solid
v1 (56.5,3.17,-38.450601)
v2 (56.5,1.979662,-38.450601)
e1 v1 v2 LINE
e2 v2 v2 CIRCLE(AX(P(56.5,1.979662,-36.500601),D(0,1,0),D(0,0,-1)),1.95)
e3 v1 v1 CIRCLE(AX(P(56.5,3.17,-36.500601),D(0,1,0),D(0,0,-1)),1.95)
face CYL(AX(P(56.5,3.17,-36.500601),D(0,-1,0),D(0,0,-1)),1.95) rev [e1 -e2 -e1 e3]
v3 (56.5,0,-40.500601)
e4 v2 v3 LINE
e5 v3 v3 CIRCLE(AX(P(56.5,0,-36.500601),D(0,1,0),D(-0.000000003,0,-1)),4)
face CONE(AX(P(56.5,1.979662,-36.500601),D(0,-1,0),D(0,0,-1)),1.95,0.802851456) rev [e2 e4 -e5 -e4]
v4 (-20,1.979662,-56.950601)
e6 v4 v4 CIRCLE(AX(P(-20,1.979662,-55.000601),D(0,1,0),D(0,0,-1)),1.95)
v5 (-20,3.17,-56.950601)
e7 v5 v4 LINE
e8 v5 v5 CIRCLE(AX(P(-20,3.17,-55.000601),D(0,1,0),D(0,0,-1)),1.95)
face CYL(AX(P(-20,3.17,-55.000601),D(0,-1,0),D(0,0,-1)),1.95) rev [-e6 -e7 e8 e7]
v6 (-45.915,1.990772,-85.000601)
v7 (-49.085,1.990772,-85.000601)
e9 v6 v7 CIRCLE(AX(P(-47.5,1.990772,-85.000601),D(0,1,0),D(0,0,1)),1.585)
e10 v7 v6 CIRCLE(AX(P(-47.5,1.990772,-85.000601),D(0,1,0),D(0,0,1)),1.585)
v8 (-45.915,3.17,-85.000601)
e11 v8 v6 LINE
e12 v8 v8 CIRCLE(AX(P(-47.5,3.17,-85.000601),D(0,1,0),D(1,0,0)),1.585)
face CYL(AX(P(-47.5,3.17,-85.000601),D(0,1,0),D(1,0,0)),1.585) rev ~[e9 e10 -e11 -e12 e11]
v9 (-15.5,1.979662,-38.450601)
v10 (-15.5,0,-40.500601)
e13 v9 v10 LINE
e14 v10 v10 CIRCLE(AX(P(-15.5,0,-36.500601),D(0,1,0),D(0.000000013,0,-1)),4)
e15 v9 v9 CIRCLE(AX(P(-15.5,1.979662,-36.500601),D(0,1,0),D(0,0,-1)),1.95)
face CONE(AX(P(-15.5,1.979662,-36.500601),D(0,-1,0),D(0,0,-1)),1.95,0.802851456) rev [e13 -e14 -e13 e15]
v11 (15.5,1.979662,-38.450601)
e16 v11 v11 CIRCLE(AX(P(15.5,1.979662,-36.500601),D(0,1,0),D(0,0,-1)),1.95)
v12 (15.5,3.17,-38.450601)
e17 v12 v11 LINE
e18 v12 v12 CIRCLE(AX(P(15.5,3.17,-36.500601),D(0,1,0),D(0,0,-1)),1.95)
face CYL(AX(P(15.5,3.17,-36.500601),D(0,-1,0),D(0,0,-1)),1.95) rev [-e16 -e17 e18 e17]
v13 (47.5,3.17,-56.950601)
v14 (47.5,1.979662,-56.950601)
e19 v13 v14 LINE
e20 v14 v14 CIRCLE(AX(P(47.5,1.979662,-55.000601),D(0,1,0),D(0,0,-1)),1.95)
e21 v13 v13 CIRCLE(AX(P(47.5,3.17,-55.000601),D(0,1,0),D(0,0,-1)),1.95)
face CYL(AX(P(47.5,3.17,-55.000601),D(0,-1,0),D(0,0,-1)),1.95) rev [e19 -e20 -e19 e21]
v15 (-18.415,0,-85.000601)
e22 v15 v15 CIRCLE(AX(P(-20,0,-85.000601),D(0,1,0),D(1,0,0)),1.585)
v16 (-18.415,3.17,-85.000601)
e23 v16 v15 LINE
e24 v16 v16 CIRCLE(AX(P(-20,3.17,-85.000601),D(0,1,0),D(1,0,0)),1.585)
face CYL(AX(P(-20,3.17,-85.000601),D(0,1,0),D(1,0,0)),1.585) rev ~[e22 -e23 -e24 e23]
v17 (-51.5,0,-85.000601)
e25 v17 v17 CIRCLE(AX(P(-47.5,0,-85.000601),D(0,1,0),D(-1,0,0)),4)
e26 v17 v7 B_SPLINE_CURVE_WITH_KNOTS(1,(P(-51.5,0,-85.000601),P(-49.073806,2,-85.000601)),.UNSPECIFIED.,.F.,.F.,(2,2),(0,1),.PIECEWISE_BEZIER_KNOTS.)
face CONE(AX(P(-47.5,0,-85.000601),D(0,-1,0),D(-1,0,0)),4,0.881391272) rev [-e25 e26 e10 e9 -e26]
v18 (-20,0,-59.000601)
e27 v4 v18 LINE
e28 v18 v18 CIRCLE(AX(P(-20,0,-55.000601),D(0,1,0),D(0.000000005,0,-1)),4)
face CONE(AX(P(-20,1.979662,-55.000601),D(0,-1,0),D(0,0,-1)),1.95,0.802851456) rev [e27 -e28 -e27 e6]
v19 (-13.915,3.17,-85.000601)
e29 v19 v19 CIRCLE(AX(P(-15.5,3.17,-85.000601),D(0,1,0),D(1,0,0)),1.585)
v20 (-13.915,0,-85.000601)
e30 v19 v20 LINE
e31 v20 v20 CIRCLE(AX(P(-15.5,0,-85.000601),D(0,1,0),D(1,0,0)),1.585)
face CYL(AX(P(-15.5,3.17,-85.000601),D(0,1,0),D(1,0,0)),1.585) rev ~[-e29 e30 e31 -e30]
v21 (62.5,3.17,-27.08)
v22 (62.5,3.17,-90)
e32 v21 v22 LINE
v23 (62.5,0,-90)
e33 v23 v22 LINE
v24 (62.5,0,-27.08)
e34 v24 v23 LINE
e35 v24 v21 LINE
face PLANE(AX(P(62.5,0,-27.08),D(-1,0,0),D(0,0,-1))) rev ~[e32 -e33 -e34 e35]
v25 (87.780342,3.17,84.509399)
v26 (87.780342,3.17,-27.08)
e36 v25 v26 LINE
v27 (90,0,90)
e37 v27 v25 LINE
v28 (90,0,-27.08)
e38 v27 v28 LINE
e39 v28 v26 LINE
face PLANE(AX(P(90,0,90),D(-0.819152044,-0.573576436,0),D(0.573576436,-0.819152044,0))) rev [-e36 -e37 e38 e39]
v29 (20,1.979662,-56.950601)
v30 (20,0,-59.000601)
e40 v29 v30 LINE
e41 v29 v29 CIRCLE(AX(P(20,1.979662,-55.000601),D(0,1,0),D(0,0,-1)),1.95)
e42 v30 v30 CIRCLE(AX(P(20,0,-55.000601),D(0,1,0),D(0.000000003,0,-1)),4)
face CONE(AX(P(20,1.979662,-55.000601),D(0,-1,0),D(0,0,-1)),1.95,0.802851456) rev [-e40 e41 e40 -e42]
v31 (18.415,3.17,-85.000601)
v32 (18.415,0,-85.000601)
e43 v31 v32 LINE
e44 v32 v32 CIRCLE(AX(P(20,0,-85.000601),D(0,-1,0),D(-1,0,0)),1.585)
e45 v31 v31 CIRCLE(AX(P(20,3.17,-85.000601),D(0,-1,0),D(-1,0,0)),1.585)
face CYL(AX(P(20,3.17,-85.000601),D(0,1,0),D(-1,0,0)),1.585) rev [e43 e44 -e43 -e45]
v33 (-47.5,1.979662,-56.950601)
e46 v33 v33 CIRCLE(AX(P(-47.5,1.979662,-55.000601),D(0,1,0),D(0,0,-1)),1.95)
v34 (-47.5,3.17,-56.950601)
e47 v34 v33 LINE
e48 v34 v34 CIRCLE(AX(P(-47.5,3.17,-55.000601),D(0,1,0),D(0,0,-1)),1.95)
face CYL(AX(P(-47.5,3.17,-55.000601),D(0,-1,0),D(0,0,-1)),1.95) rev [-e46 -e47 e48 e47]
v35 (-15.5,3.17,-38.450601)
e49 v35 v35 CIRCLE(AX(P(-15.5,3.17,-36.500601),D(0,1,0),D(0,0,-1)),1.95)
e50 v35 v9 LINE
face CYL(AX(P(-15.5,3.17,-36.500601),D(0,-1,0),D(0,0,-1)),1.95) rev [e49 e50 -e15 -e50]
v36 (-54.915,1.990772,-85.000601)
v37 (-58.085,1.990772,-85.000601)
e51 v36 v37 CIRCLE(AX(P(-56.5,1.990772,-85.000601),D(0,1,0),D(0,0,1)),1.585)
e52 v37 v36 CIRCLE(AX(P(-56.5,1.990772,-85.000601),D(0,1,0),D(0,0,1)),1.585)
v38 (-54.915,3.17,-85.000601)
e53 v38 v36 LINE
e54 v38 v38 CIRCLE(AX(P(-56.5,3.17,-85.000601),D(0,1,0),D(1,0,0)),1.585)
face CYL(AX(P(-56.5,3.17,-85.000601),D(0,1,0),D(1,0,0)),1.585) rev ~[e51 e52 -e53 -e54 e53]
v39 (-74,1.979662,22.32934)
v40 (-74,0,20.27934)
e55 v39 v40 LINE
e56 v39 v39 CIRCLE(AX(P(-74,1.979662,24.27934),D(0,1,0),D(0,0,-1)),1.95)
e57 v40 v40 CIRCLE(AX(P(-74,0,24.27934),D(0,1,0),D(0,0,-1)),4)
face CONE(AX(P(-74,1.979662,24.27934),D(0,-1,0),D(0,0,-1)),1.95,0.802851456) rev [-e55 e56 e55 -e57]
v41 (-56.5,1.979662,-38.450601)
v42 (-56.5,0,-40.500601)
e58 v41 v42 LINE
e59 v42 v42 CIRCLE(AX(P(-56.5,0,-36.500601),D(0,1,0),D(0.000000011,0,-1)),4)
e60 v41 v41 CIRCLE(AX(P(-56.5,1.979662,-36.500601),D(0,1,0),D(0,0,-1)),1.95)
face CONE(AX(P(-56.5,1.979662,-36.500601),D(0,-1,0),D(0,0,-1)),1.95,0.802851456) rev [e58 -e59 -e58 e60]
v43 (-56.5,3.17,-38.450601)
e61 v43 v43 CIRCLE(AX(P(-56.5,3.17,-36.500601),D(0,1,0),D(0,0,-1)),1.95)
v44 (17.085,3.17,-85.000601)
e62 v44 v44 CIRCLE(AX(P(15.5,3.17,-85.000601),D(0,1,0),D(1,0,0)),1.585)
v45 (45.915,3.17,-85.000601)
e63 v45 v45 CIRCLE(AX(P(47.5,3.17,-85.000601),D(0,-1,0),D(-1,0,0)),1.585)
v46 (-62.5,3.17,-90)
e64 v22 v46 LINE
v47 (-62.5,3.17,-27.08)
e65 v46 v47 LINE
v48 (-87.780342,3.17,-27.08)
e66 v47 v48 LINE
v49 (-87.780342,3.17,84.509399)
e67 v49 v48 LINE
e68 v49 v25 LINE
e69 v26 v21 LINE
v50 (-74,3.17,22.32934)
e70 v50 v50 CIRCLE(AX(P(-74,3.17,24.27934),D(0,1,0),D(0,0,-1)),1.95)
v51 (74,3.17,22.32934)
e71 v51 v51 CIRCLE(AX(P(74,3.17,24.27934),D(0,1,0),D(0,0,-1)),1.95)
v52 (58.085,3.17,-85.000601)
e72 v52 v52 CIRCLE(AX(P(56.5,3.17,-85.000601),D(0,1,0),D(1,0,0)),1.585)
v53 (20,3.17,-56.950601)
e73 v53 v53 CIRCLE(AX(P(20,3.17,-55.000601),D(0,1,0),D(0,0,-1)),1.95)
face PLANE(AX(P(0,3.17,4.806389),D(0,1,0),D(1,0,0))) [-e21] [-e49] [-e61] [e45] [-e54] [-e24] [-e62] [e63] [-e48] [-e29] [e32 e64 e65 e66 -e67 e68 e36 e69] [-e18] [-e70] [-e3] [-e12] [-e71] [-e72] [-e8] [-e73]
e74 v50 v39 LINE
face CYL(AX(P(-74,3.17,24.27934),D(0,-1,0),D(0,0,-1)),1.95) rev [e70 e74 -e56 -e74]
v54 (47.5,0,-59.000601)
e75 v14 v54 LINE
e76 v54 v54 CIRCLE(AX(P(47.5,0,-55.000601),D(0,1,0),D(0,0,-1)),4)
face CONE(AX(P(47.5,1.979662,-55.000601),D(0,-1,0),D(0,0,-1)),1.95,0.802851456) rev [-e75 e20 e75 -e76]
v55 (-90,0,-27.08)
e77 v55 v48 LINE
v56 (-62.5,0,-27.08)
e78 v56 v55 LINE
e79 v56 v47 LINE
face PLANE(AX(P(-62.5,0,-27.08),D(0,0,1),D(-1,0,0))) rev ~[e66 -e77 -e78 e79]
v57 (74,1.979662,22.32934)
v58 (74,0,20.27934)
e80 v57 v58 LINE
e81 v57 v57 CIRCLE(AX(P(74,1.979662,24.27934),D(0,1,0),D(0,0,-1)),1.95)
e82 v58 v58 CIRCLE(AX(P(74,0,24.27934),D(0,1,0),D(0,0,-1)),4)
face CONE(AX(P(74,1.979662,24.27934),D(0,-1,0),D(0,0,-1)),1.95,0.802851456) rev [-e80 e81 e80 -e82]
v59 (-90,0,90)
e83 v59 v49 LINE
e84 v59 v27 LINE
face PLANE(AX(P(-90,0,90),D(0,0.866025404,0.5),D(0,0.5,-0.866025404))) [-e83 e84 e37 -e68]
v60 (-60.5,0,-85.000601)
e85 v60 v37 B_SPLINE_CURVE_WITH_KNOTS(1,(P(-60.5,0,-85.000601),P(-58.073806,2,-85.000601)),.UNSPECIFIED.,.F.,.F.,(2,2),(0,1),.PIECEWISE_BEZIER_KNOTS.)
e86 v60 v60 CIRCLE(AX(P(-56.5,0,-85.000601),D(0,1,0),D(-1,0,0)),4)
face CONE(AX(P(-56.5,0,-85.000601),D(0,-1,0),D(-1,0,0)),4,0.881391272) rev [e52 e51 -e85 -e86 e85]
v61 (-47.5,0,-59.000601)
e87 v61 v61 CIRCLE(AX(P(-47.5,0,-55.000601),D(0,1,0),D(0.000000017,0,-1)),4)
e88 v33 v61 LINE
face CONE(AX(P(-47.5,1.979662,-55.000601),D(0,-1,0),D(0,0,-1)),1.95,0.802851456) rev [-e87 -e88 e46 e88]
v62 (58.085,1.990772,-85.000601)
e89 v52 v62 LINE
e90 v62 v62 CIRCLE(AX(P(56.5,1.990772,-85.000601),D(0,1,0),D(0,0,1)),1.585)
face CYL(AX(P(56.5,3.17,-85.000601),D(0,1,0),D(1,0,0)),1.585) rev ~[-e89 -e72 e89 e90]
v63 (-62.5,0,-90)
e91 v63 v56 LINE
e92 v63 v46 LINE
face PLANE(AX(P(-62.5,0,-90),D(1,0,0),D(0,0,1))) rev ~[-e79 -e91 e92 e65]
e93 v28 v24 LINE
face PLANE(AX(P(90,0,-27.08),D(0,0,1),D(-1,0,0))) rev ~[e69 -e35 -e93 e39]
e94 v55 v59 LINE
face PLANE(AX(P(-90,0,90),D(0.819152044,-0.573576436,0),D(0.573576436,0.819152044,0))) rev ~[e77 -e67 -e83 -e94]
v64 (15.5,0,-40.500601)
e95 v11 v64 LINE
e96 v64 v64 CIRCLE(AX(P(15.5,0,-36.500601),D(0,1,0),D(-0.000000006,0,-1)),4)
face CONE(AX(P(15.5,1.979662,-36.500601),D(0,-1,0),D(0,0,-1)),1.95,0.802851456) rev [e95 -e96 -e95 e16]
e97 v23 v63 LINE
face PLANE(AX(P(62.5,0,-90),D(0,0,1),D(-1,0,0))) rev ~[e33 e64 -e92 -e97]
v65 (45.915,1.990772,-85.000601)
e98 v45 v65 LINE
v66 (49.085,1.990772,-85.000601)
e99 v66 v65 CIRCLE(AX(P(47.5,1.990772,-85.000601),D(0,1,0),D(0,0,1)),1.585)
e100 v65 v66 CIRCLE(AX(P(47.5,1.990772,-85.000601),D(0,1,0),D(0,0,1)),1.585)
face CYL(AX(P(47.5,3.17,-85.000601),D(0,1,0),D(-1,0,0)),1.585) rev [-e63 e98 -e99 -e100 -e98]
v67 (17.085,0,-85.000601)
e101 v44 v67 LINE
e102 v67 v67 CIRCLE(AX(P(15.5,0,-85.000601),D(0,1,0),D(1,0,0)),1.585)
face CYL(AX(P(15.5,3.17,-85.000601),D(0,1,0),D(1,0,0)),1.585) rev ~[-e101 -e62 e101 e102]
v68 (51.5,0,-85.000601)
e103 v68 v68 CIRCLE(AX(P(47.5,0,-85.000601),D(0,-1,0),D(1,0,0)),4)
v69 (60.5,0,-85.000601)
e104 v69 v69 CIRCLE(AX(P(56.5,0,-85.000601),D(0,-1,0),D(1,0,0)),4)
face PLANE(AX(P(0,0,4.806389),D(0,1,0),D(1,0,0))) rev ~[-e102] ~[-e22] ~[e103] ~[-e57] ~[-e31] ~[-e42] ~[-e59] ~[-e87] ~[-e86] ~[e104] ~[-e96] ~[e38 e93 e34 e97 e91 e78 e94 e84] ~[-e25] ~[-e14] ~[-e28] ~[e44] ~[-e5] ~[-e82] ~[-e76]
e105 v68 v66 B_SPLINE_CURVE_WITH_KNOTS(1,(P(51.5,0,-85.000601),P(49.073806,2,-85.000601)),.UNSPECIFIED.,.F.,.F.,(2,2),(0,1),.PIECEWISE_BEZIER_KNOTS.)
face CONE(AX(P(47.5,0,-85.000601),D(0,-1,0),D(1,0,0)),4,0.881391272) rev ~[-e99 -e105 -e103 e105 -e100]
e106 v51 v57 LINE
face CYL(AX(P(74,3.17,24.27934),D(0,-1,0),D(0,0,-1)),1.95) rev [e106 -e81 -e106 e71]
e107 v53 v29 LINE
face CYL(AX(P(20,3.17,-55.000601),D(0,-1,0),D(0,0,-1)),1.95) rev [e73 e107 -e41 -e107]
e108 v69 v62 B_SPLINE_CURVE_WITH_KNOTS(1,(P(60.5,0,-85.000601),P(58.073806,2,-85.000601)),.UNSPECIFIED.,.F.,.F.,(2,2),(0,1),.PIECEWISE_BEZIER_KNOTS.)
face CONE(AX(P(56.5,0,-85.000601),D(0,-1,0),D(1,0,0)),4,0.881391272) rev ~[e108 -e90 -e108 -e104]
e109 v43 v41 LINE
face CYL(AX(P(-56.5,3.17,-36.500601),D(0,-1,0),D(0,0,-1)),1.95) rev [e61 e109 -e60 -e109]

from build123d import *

# Parameters (mm, degrees)
SALIENTE_EXTRUIR1_DEPTH                      = 3.17
CORTAR_EXTRUIR1_REACH                        = 182
CORTAR_EXTRUIR7_START                        = -117.08
CORTAR_EXTRUIR7_DEPTH                        = 117.08
CROQUIS3_R                                   = 1.585
CORTAR_EXTRUIR2_DEPTH                        = 3.17
CORTAR_EXTRUIR3_REACH                        = 5.17
CROQUIS4_R                                   = 1.585
CORTAR_EXTRUIR4_REACH                        = 5.17
CROQUIS6_R                                   = 1.585
CROQUIS7_R                                   = 1.585
CORTAR_EXTRUIR5_DEPTH                        = 3.17
CROQUIS15_R                                  = 4
CORTAR_EXTRUIR6_DEPTH                        = 2
CORTAR_EXTRUIR6_TAPER                        = 50.5
AVELLANADO_PARA_TORNILLO_CON_CABEZA_2_COUNT  = 2
AVELLANADO_PARA_TORNILLO_CON_CABEZA_2_PITCH  = 63.24912037
AVELLANADO_PARA_TORNILLO_CON_CABEZA_3_COUNT  = 2
AVELLANADO_PARA_TORNILLO_CON_CABEZA_3_PITCH  = 83.591620659
AVELLANADO_PARA_TORNILLO_CON_CABEZA_4_COUNT  = 2
AVELLANADO_PARA_TORNILLO_CON_CABEZA_4_PITCH  = 95.923454089
AVELLANADO_PARA_TORNILLO_CON_CABEZA_5_COUNT  = 2
AVELLANADO_PARA_TORNILLO_CON_CABEZA_5_PITCH  = 84.359061325
AVELLANADO_PARA_TORNILLO_CON_CABEZA_6_COUNT  = 2
AVELLANADO_PARA_TORNILLO_CON_CABEZA_6_PITCH  = 108.187112114
AVELLANADO_PARA_TORNILLO_CON_CABEZA_7_COUNT  = 2
AVELLANADO_PARA_TORNILLO_CON_CABEZA_7_PITCH  = 122.968731979
AVELLANADO_PARA_TORNILLO_CON_CABEZA_8_COUNT  = 2
AVELLANADO_PARA_TORNILLO_CON_CABEZA_8_PITCH  = 145.077768953
AVELLANADO_PARA_TORNILLO_CON_CABEZA_9_COUNT  = 2
AVELLANADO_PARA_TORNILLO_CON_CABEZA_9_PITCH  = 143.959894511
AVELLANADO_PARA_TORNILLO_CON_CABEZA_10_COUNT = 2
AVELLANADO_PARA_TORNILLO_CON_CABEZA_10_PITCH = 148


with BuildPart() as part:
    # Croquis1 → Saliente-Extruir1 (new body)
    with BuildSketch(Plane(origin=(0, 0, 0), x_dir=(1, 0, 0), z_dir=(0, 1, 0))):
        Polygon((-62.5, 90), (-62.5, 27.08), (-90, 27.08), (-90, -90), (90, -90), (90, 27.08), (62.5, 27.08), (62.5, 90), align=None)
    extrude(amount=SALIENTE_EXTRUIR1_DEPTH)

    # Croquis2 → Cortar-Extruir1 (cut, up to next)
    with BuildSketch(Plane.ZY.offset(90), mode=Mode.PRIVATE) as cortar_extruir1_sk1:
        Polygon((90, 0), (84.50939894, 3.17), (90, 3.17), align=None)
    cortar_extruir1_tool1 = extrude(cortar_extruir1_sk1.sketch, amount=-CORTAR_EXTRUIR1_REACH, mode=Mode.PRIVATE) & part.part
    add(cortar_extruir1_tool1.solids().sort_by_distance((-90, 2.113333, 88.1698))[0], mode=Mode.SUBTRACT)

    # Croquis16 → Cortar-Extruir7 (cut)
    with BuildSketch(Plane(origin=(0, 0, -27.08), x_dir=(-1, 0, 0), z_dir=(0, 0, -1)).offset(CORTAR_EXTRUIR7_START)):
        Polygon((90, 3.17), (90, 0), (87.780342104, 3.17), align=None)
    cortar_extruir7 = extrude(amount=CORTAR_EXTRUIR7_DEPTH, mode=Mode.SUBTRACT)

    # Simetría4: Cortar-Extruir7 across plane
    add(cortar_extruir7.mirror(Plane(origin=(0, 0, 0), x_dir=(0, 0, 1), z_dir=(1, 0, 0))), mode=Mode.SUBTRACT)

    # Croquis3 → Cortar-Extruir2 (cut)
    with BuildSketch(Plane(origin=(0, 3.17, 0), x_dir=(1, 0, 0), z_dir=(0, 1, 0))):
        with Locations((74, -24.279339937)):
            Circle(CROQUIS3_R)
    cortar_extruir2 = extrude(amount=-CORTAR_EXTRUIR2_DEPTH, mode=Mode.SUBTRACT)

    # Simetría1: Cortar-Extruir2 across plane
    add(cortar_extruir2.mirror(Plane(origin=(0, 0, 0), x_dir=(0, 0, 1), z_dir=(1, 0, 0))), mode=Mode.SUBTRACT)

    # Croquis4 → Cortar-Extruir3 (cut, up to next)
    with BuildSketch(Plane(origin=(0, 3.17, 0), x_dir=(1, 0, 0), z_dir=(0, 1, 0)), mode=Mode.PRIVATE) as cortar_extruir3_sk1:
        with Locations((-56.5, 36.50060106)):
            Circle(CROQUIS4_R)
    cortar_extruir3_tool1 = extrude(cortar_extruir3_sk1.sketch, amount=-CORTAR_EXTRUIR3_REACH, mode=Mode.PRIVATE) & part.part
    add(cortar_extruir3_tool1.solids().sort_by_distance((-56.5, 3.17, -36.500601))[0], mode=Mode.SUBTRACT)
    # Croquis4 → Cortar-Extruir3 (cut, up to next)
    with BuildSketch(Plane(origin=(0, 3.17, 0), x_dir=(1, 0, 0), z_dir=(0, 1, 0)), mode=Mode.PRIVATE) as cortar_extruir3_sk2:
        with Locations((-15.5, 36.50060106)):
            Circle(CROQUIS4_R)
    cortar_extruir3_tool2 = extrude(cortar_extruir3_sk2.sketch, amount=-CORTAR_EXTRUIR3_REACH, mode=Mode.PRIVATE) & part.part
    add(cortar_extruir3_tool2.solids().sort_by_distance((-15.5, 3.17, -36.500601))[0], mode=Mode.SUBTRACT)
    # Croquis4 → Cortar-Extruir3 (cut, up to next)
    with BuildSketch(Plane(origin=(0, 3.17, 0), x_dir=(1, 0, 0), z_dir=(0, 1, 0)), mode=Mode.PRIVATE) as cortar_extruir3_sk3:
        with Locations((-15.5, 85.00060106)):
            Circle(CROQUIS4_R)
    cortar_extruir3_tool3 = extrude(cortar_extruir3_sk3.sketch, amount=-CORTAR_EXTRUIR3_REACH, mode=Mode.PRIVATE) & part.part
    add(cortar_extruir3_tool3.solids().sort_by_distance((-15.5, 3.17, -85.000601))[0], mode=Mode.SUBTRACT)
    # Croquis4 → Cortar-Extruir3 (cut, up to next)
    with BuildSketch(Plane(origin=(0, 3.17, 0), x_dir=(1, 0, 0), z_dir=(0, 1, 0)), mode=Mode.PRIVATE) as cortar_extruir3_sk4:
        with Locations((-56.5, 85.00060106)):
            Circle(CROQUIS4_R)
    cortar_extruir3_tool4 = extrude(cortar_extruir3_sk4.sketch, amount=-CORTAR_EXTRUIR3_REACH, mode=Mode.PRIVATE) & part.part
    add(cortar_extruir3_tool4.solids().sort_by_distance((-56.5, 3.17, -85.000601))[0], mode=Mode.SUBTRACT)

    # Croquis6 → Cortar-Extruir4 (cut, up to next)
    with BuildSketch(Plane(origin=(0, 3.17, 0), x_dir=(1, 0, 0), z_dir=(0, 1, 0)), mode=Mode.PRIVATE) as cortar_extruir4_sk1:
        with Locations((56.5, 85.00060106)):
            Circle(CROQUIS6_R)
    cortar_extruir4_tool1 = extrude(cortar_extruir4_sk1.sketch, amount=-CORTAR_EXTRUIR4_REACH, mode=Mode.PRIVATE) & part.part
    add(cortar_extruir4_tool1.solids().sort_by_distance((56.5, 3.17, -85.000601))[0], mode=Mode.SUBTRACT)
    # Croquis6 → Cortar-Extruir4 (cut, up to next)
    with BuildSketch(Plane(origin=(0, 3.17, 0), x_dir=(1, 0, 0), z_dir=(0, 1, 0)), mode=Mode.PRIVATE) as cortar_extruir4_sk2:
        with Locations((15.5, 85.00060106)):
            Circle(CROQUIS6_R)
    cortar_extruir4_tool2 = extrude(cortar_extruir4_sk2.sketch, amount=-CORTAR_EXTRUIR4_REACH, mode=Mode.PRIVATE) & part.part
    add(cortar_extruir4_tool2.solids().sort_by_distance((15.5, 3.17, -85.000601))[0], mode=Mode.SUBTRACT)
    # Croquis6 → Cortar-Extruir4 (cut, up to next)
    with BuildSketch(Plane(origin=(0, 3.17, 0), x_dir=(1, 0, 0), z_dir=(0, 1, 0)), mode=Mode.PRIVATE) as cortar_extruir4_sk3:
        with Locations((15.5, 36.50060106)):
            Circle(CROQUIS6_R)
    cortar_extruir4_tool3 = extrude(cortar_extruir4_sk3.sketch, amount=-CORTAR_EXTRUIR4_REACH, mode=Mode.PRIVATE) & part.part
    add(cortar_extruir4_tool3.solids().sort_by_distance((15.5, 3.17, -36.500601))[0], mode=Mode.SUBTRACT)
    # Croquis6 → Cortar-Extruir4 (cut, up to next)
    with BuildSketch(Plane(origin=(0, 3.17, 0), x_dir=(1, 0, 0), z_dir=(0, 1, 0)), mode=Mode.PRIVATE) as cortar_extruir4_sk4:
        with Locations((56.5, 36.50060106)):
            Circle(CROQUIS6_R)
    cortar_extruir4_tool4 = extrude(cortar_extruir4_sk4.sketch, amount=-CORTAR_EXTRUIR4_REACH, mode=Mode.PRIVATE) & part.part
    add(cortar_extruir4_tool4.solids().sort_by_distance((56.5, 3.17, -36.500601))[0], mode=Mode.SUBTRACT)

    # Croquis7 → Cortar-Extruir5 (cut)
    with BuildSketch(Plane(origin=(0, 3.17, 0), x_dir=(1, 0, 0), z_dir=(0, 1, 0))):
        with Locations((-20, 85.00060106)):
            Circle(CROQUIS7_R)
        with Locations((-47.5, 85.00060106)):
            Circle(CROQUIS7_R)
        with Locations((-47.5, 55.00060106)):
            Circle(CROQUIS7_R)
        with Locations((-20, 55.00060106)):
            Circle(CROQUIS7_R)
    cortar_extruir5 = extrude(amount=-CORTAR_EXTRUIR5_DEPTH, mode=Mode.SUBTRACT)

    # Simetría2: Cortar-Extruir5 across plane
    add(cortar_extruir5.mirror(Plane(origin=(0, 0, 0), x_dir=(0, 0, 1), z_dir=(1, 0, 0))), mode=Mode.SUBTRACT)

    # Croquis15 → Cortar-Extruir6 (cut)
    with BuildSketch(Plane(origin=(0, 0, 0), x_dir=(-1, 0, 0), z_dir=(0, -1, 0))):
        with Locations((20, 55.00060106)):
            Circle(CROQUIS15_R)
        with Locations((15.5, 36.50060106)):
            Circle(CROQUIS15_R)
        with Locations((56.5, 36.50060106)):
            Circle(CROQUIS15_R)
        with Locations((47.5, 55.00060106)):
            Circle(CROQUIS15_R)
        with Locations((56.5, 85.00060106)):
            Circle(CROQUIS15_R)
        with Locations((47.5, 85.00060106)):
            Circle(CROQUIS15_R)
        with Locations((74, -24.279339937)):
            Circle(CROQUIS15_R)
    cortar_extruir6 = extrude(amount=-CORTAR_EXTRUIR6_DEPTH, taper=CORTAR_EXTRUIR6_TAPER, mode=Mode.SUBTRACT)

    # Simetría3: Cortar-Extruir6 across plane
    add(cortar_extruir6.mirror(Plane(origin=(0, 0, 0), x_dir=(0, 0, 1), z_dir=(1, 0, 0))), mode=Mode.SUBTRACT)

    # Croquis14 → Avellanado para tornillo con cabeza avellanada en cruz de M3.51 (revolve, cut)
    with BuildSketch(Plane(origin=(74, 0, 24.279339937), x_dir=(0, 0, -1), z_dir=(1, 0, 0))):
        Polygon((0, 0), (0, 3.17), (1.95, 3.17), (1.95, 1.979661988), (4, 0), align=None)
    avellanado_para_tornillo_con_cabeza_avel = revolve(axis=Axis((74, -6.35, 24.279339937), (0, 1, 0)), mode=Mode.SUBTRACT)

    # Avellanado para tornillo con cabeza  2: Avellanado para tornillo con cabeza avellanada en cruz de M3.51 ×2
    with Locations(*[Vector(-0.27668369, 0, -0.960961048) * (i * AVELLANADO_PARA_TORNILLO_CON_CABEZA_2_PITCH) for i in range(1, AVELLANADO_PARA_TORNILLO_CON_CABEZA_2_COUNT)]):
        add(avellanado_para_tornillo_con_cabeza_avel, mode=Mode.SUBTRACT)

    # Avellanado para tornillo con cabeza  3: Avellanado para tornillo con cabeza avellanada en cruz de M3.51 ×2
    with Locations(*[Vector(-0.317017421, 0, -0.948419714) * (i * AVELLANADO_PARA_TORNILLO_CON_CABEZA_3_PITCH) for i in range(1, AVELLANADO_PARA_TORNILLO_CON_CABEZA_3_COUNT)]):
        add(avellanado_para_tornillo_con_cabeza_avel, mode=Mode.SUBTRACT)

    # Avellanado para tornillo con cabeza  4: Avellanado para tornillo con cabeza avellanada en cruz de M3.51 ×2
    with Locations(*[Vector(-0.562948869, 0, -0.826491725) * (i * AVELLANADO_PARA_TORNILLO_CON_CABEZA_4_PITCH) for i in range(1, AVELLANADO_PARA_TORNILLO_CON_CABEZA_4_COUNT)]):
        add(avellanado_para_tornillo_con_cabeza_avel, mode=Mode.SUBTRACT)

    # Avellanado para tornillo con cabeza  5: Avellanado para tornillo con cabeza avellanada en cruz de M3.51 ×2
    with Locations(*[Vector(-0.693464331, 0, -0.720490959) * (i * AVELLANADO_PARA_TORNILLO_CON_CABEZA_5_PITCH) for i in range(1, AVELLANADO_PARA_TORNILLO_CON_CABEZA_5_COUNT)]):
        add(avellanado_para_tornillo_con_cabeza_avel, mode=Mode.SUBTRACT)

    # Avellanado para tornillo con cabeza  6: Avellanado para tornillo con cabeza avellanada en cruz de M3.51 ×2
    with Locations(*[Vector(-0.827270441, 0, -0.561803895) * (i * AVELLANADO_PARA_TORNILLO_CON_CABEZA_6_PITCH) for i in range(1, AVELLANADO_PARA_TORNILLO_CON_CABEZA_6_COUNT)]):
        add(avellanado_para_tornillo_con_cabeza_avel, mode=Mode.SUBTRACT)

    # Avellanado para tornillo con cabeza  7: Avellanado para tornillo con cabeza avellanada en cruz de M3.51 ×2
    with Locations(*[Vector(-0.764421967, 0, -0.64471626) * (i * AVELLANADO_PARA_TORNILLO_CON_CABEZA_7_PITCH) for i in range(1, AVELLANADO_PARA_TORNILLO_CON_CABEZA_7_COUNT)]):
        add(avellanado_para_tornillo_con_cabeza_avel, mode=Mode.SUBTRACT)

    # Avellanado para tornillo con cabeza  8: Avellanado para tornillo con cabeza avellanada en cruz de M3.51 ×2
    with Locations(*[Vector(-0.837481861, 0, -0.546465124) * (i * AVELLANADO_PARA_TORNILLO_CON_CABEZA_8_PITCH) for i in range(1, AVELLANADO_PARA_TORNILLO_CON_CABEZA_8_COUNT)]):
        add(avellanado_para_tornillo_con_cabeza_avel, mode=Mode.SUBTRACT)

    # Avellanado para tornillo con cabeza  9: Avellanado para tornillo con cabeza avellanada en cruz de M3.51 ×2
    with Locations(*[Vector(-0.90650247, 0, -0.422200511) * (i * AVELLANADO_PARA_TORNILLO_CON_CABEZA_9_PITCH) for i in range(1, AVELLANADO_PARA_TORNILLO_CON_CABEZA_9_COUNT)]):
        add(avellanado_para_tornillo_con_cabeza_avel, mode=Mode.SUBTRACT)

    # Avellanado para tornillo con cabeza  10: Avellanado para tornillo con cabeza avellanada en cruz de M3.51 ×2
    with Locations(*[(-i * AVELLANADO_PARA_TORNILLO_CON_CABEZA_10_PITCH, 0, 0) for i in range(1, AVELLANADO_PARA_TORNILLO_CON_CABEZA_10_COUNT)]):
        add(avellanado_para_tornillo_con_cabeza_avel, mode=Mode.SUBTRACT)


solid = part.part
